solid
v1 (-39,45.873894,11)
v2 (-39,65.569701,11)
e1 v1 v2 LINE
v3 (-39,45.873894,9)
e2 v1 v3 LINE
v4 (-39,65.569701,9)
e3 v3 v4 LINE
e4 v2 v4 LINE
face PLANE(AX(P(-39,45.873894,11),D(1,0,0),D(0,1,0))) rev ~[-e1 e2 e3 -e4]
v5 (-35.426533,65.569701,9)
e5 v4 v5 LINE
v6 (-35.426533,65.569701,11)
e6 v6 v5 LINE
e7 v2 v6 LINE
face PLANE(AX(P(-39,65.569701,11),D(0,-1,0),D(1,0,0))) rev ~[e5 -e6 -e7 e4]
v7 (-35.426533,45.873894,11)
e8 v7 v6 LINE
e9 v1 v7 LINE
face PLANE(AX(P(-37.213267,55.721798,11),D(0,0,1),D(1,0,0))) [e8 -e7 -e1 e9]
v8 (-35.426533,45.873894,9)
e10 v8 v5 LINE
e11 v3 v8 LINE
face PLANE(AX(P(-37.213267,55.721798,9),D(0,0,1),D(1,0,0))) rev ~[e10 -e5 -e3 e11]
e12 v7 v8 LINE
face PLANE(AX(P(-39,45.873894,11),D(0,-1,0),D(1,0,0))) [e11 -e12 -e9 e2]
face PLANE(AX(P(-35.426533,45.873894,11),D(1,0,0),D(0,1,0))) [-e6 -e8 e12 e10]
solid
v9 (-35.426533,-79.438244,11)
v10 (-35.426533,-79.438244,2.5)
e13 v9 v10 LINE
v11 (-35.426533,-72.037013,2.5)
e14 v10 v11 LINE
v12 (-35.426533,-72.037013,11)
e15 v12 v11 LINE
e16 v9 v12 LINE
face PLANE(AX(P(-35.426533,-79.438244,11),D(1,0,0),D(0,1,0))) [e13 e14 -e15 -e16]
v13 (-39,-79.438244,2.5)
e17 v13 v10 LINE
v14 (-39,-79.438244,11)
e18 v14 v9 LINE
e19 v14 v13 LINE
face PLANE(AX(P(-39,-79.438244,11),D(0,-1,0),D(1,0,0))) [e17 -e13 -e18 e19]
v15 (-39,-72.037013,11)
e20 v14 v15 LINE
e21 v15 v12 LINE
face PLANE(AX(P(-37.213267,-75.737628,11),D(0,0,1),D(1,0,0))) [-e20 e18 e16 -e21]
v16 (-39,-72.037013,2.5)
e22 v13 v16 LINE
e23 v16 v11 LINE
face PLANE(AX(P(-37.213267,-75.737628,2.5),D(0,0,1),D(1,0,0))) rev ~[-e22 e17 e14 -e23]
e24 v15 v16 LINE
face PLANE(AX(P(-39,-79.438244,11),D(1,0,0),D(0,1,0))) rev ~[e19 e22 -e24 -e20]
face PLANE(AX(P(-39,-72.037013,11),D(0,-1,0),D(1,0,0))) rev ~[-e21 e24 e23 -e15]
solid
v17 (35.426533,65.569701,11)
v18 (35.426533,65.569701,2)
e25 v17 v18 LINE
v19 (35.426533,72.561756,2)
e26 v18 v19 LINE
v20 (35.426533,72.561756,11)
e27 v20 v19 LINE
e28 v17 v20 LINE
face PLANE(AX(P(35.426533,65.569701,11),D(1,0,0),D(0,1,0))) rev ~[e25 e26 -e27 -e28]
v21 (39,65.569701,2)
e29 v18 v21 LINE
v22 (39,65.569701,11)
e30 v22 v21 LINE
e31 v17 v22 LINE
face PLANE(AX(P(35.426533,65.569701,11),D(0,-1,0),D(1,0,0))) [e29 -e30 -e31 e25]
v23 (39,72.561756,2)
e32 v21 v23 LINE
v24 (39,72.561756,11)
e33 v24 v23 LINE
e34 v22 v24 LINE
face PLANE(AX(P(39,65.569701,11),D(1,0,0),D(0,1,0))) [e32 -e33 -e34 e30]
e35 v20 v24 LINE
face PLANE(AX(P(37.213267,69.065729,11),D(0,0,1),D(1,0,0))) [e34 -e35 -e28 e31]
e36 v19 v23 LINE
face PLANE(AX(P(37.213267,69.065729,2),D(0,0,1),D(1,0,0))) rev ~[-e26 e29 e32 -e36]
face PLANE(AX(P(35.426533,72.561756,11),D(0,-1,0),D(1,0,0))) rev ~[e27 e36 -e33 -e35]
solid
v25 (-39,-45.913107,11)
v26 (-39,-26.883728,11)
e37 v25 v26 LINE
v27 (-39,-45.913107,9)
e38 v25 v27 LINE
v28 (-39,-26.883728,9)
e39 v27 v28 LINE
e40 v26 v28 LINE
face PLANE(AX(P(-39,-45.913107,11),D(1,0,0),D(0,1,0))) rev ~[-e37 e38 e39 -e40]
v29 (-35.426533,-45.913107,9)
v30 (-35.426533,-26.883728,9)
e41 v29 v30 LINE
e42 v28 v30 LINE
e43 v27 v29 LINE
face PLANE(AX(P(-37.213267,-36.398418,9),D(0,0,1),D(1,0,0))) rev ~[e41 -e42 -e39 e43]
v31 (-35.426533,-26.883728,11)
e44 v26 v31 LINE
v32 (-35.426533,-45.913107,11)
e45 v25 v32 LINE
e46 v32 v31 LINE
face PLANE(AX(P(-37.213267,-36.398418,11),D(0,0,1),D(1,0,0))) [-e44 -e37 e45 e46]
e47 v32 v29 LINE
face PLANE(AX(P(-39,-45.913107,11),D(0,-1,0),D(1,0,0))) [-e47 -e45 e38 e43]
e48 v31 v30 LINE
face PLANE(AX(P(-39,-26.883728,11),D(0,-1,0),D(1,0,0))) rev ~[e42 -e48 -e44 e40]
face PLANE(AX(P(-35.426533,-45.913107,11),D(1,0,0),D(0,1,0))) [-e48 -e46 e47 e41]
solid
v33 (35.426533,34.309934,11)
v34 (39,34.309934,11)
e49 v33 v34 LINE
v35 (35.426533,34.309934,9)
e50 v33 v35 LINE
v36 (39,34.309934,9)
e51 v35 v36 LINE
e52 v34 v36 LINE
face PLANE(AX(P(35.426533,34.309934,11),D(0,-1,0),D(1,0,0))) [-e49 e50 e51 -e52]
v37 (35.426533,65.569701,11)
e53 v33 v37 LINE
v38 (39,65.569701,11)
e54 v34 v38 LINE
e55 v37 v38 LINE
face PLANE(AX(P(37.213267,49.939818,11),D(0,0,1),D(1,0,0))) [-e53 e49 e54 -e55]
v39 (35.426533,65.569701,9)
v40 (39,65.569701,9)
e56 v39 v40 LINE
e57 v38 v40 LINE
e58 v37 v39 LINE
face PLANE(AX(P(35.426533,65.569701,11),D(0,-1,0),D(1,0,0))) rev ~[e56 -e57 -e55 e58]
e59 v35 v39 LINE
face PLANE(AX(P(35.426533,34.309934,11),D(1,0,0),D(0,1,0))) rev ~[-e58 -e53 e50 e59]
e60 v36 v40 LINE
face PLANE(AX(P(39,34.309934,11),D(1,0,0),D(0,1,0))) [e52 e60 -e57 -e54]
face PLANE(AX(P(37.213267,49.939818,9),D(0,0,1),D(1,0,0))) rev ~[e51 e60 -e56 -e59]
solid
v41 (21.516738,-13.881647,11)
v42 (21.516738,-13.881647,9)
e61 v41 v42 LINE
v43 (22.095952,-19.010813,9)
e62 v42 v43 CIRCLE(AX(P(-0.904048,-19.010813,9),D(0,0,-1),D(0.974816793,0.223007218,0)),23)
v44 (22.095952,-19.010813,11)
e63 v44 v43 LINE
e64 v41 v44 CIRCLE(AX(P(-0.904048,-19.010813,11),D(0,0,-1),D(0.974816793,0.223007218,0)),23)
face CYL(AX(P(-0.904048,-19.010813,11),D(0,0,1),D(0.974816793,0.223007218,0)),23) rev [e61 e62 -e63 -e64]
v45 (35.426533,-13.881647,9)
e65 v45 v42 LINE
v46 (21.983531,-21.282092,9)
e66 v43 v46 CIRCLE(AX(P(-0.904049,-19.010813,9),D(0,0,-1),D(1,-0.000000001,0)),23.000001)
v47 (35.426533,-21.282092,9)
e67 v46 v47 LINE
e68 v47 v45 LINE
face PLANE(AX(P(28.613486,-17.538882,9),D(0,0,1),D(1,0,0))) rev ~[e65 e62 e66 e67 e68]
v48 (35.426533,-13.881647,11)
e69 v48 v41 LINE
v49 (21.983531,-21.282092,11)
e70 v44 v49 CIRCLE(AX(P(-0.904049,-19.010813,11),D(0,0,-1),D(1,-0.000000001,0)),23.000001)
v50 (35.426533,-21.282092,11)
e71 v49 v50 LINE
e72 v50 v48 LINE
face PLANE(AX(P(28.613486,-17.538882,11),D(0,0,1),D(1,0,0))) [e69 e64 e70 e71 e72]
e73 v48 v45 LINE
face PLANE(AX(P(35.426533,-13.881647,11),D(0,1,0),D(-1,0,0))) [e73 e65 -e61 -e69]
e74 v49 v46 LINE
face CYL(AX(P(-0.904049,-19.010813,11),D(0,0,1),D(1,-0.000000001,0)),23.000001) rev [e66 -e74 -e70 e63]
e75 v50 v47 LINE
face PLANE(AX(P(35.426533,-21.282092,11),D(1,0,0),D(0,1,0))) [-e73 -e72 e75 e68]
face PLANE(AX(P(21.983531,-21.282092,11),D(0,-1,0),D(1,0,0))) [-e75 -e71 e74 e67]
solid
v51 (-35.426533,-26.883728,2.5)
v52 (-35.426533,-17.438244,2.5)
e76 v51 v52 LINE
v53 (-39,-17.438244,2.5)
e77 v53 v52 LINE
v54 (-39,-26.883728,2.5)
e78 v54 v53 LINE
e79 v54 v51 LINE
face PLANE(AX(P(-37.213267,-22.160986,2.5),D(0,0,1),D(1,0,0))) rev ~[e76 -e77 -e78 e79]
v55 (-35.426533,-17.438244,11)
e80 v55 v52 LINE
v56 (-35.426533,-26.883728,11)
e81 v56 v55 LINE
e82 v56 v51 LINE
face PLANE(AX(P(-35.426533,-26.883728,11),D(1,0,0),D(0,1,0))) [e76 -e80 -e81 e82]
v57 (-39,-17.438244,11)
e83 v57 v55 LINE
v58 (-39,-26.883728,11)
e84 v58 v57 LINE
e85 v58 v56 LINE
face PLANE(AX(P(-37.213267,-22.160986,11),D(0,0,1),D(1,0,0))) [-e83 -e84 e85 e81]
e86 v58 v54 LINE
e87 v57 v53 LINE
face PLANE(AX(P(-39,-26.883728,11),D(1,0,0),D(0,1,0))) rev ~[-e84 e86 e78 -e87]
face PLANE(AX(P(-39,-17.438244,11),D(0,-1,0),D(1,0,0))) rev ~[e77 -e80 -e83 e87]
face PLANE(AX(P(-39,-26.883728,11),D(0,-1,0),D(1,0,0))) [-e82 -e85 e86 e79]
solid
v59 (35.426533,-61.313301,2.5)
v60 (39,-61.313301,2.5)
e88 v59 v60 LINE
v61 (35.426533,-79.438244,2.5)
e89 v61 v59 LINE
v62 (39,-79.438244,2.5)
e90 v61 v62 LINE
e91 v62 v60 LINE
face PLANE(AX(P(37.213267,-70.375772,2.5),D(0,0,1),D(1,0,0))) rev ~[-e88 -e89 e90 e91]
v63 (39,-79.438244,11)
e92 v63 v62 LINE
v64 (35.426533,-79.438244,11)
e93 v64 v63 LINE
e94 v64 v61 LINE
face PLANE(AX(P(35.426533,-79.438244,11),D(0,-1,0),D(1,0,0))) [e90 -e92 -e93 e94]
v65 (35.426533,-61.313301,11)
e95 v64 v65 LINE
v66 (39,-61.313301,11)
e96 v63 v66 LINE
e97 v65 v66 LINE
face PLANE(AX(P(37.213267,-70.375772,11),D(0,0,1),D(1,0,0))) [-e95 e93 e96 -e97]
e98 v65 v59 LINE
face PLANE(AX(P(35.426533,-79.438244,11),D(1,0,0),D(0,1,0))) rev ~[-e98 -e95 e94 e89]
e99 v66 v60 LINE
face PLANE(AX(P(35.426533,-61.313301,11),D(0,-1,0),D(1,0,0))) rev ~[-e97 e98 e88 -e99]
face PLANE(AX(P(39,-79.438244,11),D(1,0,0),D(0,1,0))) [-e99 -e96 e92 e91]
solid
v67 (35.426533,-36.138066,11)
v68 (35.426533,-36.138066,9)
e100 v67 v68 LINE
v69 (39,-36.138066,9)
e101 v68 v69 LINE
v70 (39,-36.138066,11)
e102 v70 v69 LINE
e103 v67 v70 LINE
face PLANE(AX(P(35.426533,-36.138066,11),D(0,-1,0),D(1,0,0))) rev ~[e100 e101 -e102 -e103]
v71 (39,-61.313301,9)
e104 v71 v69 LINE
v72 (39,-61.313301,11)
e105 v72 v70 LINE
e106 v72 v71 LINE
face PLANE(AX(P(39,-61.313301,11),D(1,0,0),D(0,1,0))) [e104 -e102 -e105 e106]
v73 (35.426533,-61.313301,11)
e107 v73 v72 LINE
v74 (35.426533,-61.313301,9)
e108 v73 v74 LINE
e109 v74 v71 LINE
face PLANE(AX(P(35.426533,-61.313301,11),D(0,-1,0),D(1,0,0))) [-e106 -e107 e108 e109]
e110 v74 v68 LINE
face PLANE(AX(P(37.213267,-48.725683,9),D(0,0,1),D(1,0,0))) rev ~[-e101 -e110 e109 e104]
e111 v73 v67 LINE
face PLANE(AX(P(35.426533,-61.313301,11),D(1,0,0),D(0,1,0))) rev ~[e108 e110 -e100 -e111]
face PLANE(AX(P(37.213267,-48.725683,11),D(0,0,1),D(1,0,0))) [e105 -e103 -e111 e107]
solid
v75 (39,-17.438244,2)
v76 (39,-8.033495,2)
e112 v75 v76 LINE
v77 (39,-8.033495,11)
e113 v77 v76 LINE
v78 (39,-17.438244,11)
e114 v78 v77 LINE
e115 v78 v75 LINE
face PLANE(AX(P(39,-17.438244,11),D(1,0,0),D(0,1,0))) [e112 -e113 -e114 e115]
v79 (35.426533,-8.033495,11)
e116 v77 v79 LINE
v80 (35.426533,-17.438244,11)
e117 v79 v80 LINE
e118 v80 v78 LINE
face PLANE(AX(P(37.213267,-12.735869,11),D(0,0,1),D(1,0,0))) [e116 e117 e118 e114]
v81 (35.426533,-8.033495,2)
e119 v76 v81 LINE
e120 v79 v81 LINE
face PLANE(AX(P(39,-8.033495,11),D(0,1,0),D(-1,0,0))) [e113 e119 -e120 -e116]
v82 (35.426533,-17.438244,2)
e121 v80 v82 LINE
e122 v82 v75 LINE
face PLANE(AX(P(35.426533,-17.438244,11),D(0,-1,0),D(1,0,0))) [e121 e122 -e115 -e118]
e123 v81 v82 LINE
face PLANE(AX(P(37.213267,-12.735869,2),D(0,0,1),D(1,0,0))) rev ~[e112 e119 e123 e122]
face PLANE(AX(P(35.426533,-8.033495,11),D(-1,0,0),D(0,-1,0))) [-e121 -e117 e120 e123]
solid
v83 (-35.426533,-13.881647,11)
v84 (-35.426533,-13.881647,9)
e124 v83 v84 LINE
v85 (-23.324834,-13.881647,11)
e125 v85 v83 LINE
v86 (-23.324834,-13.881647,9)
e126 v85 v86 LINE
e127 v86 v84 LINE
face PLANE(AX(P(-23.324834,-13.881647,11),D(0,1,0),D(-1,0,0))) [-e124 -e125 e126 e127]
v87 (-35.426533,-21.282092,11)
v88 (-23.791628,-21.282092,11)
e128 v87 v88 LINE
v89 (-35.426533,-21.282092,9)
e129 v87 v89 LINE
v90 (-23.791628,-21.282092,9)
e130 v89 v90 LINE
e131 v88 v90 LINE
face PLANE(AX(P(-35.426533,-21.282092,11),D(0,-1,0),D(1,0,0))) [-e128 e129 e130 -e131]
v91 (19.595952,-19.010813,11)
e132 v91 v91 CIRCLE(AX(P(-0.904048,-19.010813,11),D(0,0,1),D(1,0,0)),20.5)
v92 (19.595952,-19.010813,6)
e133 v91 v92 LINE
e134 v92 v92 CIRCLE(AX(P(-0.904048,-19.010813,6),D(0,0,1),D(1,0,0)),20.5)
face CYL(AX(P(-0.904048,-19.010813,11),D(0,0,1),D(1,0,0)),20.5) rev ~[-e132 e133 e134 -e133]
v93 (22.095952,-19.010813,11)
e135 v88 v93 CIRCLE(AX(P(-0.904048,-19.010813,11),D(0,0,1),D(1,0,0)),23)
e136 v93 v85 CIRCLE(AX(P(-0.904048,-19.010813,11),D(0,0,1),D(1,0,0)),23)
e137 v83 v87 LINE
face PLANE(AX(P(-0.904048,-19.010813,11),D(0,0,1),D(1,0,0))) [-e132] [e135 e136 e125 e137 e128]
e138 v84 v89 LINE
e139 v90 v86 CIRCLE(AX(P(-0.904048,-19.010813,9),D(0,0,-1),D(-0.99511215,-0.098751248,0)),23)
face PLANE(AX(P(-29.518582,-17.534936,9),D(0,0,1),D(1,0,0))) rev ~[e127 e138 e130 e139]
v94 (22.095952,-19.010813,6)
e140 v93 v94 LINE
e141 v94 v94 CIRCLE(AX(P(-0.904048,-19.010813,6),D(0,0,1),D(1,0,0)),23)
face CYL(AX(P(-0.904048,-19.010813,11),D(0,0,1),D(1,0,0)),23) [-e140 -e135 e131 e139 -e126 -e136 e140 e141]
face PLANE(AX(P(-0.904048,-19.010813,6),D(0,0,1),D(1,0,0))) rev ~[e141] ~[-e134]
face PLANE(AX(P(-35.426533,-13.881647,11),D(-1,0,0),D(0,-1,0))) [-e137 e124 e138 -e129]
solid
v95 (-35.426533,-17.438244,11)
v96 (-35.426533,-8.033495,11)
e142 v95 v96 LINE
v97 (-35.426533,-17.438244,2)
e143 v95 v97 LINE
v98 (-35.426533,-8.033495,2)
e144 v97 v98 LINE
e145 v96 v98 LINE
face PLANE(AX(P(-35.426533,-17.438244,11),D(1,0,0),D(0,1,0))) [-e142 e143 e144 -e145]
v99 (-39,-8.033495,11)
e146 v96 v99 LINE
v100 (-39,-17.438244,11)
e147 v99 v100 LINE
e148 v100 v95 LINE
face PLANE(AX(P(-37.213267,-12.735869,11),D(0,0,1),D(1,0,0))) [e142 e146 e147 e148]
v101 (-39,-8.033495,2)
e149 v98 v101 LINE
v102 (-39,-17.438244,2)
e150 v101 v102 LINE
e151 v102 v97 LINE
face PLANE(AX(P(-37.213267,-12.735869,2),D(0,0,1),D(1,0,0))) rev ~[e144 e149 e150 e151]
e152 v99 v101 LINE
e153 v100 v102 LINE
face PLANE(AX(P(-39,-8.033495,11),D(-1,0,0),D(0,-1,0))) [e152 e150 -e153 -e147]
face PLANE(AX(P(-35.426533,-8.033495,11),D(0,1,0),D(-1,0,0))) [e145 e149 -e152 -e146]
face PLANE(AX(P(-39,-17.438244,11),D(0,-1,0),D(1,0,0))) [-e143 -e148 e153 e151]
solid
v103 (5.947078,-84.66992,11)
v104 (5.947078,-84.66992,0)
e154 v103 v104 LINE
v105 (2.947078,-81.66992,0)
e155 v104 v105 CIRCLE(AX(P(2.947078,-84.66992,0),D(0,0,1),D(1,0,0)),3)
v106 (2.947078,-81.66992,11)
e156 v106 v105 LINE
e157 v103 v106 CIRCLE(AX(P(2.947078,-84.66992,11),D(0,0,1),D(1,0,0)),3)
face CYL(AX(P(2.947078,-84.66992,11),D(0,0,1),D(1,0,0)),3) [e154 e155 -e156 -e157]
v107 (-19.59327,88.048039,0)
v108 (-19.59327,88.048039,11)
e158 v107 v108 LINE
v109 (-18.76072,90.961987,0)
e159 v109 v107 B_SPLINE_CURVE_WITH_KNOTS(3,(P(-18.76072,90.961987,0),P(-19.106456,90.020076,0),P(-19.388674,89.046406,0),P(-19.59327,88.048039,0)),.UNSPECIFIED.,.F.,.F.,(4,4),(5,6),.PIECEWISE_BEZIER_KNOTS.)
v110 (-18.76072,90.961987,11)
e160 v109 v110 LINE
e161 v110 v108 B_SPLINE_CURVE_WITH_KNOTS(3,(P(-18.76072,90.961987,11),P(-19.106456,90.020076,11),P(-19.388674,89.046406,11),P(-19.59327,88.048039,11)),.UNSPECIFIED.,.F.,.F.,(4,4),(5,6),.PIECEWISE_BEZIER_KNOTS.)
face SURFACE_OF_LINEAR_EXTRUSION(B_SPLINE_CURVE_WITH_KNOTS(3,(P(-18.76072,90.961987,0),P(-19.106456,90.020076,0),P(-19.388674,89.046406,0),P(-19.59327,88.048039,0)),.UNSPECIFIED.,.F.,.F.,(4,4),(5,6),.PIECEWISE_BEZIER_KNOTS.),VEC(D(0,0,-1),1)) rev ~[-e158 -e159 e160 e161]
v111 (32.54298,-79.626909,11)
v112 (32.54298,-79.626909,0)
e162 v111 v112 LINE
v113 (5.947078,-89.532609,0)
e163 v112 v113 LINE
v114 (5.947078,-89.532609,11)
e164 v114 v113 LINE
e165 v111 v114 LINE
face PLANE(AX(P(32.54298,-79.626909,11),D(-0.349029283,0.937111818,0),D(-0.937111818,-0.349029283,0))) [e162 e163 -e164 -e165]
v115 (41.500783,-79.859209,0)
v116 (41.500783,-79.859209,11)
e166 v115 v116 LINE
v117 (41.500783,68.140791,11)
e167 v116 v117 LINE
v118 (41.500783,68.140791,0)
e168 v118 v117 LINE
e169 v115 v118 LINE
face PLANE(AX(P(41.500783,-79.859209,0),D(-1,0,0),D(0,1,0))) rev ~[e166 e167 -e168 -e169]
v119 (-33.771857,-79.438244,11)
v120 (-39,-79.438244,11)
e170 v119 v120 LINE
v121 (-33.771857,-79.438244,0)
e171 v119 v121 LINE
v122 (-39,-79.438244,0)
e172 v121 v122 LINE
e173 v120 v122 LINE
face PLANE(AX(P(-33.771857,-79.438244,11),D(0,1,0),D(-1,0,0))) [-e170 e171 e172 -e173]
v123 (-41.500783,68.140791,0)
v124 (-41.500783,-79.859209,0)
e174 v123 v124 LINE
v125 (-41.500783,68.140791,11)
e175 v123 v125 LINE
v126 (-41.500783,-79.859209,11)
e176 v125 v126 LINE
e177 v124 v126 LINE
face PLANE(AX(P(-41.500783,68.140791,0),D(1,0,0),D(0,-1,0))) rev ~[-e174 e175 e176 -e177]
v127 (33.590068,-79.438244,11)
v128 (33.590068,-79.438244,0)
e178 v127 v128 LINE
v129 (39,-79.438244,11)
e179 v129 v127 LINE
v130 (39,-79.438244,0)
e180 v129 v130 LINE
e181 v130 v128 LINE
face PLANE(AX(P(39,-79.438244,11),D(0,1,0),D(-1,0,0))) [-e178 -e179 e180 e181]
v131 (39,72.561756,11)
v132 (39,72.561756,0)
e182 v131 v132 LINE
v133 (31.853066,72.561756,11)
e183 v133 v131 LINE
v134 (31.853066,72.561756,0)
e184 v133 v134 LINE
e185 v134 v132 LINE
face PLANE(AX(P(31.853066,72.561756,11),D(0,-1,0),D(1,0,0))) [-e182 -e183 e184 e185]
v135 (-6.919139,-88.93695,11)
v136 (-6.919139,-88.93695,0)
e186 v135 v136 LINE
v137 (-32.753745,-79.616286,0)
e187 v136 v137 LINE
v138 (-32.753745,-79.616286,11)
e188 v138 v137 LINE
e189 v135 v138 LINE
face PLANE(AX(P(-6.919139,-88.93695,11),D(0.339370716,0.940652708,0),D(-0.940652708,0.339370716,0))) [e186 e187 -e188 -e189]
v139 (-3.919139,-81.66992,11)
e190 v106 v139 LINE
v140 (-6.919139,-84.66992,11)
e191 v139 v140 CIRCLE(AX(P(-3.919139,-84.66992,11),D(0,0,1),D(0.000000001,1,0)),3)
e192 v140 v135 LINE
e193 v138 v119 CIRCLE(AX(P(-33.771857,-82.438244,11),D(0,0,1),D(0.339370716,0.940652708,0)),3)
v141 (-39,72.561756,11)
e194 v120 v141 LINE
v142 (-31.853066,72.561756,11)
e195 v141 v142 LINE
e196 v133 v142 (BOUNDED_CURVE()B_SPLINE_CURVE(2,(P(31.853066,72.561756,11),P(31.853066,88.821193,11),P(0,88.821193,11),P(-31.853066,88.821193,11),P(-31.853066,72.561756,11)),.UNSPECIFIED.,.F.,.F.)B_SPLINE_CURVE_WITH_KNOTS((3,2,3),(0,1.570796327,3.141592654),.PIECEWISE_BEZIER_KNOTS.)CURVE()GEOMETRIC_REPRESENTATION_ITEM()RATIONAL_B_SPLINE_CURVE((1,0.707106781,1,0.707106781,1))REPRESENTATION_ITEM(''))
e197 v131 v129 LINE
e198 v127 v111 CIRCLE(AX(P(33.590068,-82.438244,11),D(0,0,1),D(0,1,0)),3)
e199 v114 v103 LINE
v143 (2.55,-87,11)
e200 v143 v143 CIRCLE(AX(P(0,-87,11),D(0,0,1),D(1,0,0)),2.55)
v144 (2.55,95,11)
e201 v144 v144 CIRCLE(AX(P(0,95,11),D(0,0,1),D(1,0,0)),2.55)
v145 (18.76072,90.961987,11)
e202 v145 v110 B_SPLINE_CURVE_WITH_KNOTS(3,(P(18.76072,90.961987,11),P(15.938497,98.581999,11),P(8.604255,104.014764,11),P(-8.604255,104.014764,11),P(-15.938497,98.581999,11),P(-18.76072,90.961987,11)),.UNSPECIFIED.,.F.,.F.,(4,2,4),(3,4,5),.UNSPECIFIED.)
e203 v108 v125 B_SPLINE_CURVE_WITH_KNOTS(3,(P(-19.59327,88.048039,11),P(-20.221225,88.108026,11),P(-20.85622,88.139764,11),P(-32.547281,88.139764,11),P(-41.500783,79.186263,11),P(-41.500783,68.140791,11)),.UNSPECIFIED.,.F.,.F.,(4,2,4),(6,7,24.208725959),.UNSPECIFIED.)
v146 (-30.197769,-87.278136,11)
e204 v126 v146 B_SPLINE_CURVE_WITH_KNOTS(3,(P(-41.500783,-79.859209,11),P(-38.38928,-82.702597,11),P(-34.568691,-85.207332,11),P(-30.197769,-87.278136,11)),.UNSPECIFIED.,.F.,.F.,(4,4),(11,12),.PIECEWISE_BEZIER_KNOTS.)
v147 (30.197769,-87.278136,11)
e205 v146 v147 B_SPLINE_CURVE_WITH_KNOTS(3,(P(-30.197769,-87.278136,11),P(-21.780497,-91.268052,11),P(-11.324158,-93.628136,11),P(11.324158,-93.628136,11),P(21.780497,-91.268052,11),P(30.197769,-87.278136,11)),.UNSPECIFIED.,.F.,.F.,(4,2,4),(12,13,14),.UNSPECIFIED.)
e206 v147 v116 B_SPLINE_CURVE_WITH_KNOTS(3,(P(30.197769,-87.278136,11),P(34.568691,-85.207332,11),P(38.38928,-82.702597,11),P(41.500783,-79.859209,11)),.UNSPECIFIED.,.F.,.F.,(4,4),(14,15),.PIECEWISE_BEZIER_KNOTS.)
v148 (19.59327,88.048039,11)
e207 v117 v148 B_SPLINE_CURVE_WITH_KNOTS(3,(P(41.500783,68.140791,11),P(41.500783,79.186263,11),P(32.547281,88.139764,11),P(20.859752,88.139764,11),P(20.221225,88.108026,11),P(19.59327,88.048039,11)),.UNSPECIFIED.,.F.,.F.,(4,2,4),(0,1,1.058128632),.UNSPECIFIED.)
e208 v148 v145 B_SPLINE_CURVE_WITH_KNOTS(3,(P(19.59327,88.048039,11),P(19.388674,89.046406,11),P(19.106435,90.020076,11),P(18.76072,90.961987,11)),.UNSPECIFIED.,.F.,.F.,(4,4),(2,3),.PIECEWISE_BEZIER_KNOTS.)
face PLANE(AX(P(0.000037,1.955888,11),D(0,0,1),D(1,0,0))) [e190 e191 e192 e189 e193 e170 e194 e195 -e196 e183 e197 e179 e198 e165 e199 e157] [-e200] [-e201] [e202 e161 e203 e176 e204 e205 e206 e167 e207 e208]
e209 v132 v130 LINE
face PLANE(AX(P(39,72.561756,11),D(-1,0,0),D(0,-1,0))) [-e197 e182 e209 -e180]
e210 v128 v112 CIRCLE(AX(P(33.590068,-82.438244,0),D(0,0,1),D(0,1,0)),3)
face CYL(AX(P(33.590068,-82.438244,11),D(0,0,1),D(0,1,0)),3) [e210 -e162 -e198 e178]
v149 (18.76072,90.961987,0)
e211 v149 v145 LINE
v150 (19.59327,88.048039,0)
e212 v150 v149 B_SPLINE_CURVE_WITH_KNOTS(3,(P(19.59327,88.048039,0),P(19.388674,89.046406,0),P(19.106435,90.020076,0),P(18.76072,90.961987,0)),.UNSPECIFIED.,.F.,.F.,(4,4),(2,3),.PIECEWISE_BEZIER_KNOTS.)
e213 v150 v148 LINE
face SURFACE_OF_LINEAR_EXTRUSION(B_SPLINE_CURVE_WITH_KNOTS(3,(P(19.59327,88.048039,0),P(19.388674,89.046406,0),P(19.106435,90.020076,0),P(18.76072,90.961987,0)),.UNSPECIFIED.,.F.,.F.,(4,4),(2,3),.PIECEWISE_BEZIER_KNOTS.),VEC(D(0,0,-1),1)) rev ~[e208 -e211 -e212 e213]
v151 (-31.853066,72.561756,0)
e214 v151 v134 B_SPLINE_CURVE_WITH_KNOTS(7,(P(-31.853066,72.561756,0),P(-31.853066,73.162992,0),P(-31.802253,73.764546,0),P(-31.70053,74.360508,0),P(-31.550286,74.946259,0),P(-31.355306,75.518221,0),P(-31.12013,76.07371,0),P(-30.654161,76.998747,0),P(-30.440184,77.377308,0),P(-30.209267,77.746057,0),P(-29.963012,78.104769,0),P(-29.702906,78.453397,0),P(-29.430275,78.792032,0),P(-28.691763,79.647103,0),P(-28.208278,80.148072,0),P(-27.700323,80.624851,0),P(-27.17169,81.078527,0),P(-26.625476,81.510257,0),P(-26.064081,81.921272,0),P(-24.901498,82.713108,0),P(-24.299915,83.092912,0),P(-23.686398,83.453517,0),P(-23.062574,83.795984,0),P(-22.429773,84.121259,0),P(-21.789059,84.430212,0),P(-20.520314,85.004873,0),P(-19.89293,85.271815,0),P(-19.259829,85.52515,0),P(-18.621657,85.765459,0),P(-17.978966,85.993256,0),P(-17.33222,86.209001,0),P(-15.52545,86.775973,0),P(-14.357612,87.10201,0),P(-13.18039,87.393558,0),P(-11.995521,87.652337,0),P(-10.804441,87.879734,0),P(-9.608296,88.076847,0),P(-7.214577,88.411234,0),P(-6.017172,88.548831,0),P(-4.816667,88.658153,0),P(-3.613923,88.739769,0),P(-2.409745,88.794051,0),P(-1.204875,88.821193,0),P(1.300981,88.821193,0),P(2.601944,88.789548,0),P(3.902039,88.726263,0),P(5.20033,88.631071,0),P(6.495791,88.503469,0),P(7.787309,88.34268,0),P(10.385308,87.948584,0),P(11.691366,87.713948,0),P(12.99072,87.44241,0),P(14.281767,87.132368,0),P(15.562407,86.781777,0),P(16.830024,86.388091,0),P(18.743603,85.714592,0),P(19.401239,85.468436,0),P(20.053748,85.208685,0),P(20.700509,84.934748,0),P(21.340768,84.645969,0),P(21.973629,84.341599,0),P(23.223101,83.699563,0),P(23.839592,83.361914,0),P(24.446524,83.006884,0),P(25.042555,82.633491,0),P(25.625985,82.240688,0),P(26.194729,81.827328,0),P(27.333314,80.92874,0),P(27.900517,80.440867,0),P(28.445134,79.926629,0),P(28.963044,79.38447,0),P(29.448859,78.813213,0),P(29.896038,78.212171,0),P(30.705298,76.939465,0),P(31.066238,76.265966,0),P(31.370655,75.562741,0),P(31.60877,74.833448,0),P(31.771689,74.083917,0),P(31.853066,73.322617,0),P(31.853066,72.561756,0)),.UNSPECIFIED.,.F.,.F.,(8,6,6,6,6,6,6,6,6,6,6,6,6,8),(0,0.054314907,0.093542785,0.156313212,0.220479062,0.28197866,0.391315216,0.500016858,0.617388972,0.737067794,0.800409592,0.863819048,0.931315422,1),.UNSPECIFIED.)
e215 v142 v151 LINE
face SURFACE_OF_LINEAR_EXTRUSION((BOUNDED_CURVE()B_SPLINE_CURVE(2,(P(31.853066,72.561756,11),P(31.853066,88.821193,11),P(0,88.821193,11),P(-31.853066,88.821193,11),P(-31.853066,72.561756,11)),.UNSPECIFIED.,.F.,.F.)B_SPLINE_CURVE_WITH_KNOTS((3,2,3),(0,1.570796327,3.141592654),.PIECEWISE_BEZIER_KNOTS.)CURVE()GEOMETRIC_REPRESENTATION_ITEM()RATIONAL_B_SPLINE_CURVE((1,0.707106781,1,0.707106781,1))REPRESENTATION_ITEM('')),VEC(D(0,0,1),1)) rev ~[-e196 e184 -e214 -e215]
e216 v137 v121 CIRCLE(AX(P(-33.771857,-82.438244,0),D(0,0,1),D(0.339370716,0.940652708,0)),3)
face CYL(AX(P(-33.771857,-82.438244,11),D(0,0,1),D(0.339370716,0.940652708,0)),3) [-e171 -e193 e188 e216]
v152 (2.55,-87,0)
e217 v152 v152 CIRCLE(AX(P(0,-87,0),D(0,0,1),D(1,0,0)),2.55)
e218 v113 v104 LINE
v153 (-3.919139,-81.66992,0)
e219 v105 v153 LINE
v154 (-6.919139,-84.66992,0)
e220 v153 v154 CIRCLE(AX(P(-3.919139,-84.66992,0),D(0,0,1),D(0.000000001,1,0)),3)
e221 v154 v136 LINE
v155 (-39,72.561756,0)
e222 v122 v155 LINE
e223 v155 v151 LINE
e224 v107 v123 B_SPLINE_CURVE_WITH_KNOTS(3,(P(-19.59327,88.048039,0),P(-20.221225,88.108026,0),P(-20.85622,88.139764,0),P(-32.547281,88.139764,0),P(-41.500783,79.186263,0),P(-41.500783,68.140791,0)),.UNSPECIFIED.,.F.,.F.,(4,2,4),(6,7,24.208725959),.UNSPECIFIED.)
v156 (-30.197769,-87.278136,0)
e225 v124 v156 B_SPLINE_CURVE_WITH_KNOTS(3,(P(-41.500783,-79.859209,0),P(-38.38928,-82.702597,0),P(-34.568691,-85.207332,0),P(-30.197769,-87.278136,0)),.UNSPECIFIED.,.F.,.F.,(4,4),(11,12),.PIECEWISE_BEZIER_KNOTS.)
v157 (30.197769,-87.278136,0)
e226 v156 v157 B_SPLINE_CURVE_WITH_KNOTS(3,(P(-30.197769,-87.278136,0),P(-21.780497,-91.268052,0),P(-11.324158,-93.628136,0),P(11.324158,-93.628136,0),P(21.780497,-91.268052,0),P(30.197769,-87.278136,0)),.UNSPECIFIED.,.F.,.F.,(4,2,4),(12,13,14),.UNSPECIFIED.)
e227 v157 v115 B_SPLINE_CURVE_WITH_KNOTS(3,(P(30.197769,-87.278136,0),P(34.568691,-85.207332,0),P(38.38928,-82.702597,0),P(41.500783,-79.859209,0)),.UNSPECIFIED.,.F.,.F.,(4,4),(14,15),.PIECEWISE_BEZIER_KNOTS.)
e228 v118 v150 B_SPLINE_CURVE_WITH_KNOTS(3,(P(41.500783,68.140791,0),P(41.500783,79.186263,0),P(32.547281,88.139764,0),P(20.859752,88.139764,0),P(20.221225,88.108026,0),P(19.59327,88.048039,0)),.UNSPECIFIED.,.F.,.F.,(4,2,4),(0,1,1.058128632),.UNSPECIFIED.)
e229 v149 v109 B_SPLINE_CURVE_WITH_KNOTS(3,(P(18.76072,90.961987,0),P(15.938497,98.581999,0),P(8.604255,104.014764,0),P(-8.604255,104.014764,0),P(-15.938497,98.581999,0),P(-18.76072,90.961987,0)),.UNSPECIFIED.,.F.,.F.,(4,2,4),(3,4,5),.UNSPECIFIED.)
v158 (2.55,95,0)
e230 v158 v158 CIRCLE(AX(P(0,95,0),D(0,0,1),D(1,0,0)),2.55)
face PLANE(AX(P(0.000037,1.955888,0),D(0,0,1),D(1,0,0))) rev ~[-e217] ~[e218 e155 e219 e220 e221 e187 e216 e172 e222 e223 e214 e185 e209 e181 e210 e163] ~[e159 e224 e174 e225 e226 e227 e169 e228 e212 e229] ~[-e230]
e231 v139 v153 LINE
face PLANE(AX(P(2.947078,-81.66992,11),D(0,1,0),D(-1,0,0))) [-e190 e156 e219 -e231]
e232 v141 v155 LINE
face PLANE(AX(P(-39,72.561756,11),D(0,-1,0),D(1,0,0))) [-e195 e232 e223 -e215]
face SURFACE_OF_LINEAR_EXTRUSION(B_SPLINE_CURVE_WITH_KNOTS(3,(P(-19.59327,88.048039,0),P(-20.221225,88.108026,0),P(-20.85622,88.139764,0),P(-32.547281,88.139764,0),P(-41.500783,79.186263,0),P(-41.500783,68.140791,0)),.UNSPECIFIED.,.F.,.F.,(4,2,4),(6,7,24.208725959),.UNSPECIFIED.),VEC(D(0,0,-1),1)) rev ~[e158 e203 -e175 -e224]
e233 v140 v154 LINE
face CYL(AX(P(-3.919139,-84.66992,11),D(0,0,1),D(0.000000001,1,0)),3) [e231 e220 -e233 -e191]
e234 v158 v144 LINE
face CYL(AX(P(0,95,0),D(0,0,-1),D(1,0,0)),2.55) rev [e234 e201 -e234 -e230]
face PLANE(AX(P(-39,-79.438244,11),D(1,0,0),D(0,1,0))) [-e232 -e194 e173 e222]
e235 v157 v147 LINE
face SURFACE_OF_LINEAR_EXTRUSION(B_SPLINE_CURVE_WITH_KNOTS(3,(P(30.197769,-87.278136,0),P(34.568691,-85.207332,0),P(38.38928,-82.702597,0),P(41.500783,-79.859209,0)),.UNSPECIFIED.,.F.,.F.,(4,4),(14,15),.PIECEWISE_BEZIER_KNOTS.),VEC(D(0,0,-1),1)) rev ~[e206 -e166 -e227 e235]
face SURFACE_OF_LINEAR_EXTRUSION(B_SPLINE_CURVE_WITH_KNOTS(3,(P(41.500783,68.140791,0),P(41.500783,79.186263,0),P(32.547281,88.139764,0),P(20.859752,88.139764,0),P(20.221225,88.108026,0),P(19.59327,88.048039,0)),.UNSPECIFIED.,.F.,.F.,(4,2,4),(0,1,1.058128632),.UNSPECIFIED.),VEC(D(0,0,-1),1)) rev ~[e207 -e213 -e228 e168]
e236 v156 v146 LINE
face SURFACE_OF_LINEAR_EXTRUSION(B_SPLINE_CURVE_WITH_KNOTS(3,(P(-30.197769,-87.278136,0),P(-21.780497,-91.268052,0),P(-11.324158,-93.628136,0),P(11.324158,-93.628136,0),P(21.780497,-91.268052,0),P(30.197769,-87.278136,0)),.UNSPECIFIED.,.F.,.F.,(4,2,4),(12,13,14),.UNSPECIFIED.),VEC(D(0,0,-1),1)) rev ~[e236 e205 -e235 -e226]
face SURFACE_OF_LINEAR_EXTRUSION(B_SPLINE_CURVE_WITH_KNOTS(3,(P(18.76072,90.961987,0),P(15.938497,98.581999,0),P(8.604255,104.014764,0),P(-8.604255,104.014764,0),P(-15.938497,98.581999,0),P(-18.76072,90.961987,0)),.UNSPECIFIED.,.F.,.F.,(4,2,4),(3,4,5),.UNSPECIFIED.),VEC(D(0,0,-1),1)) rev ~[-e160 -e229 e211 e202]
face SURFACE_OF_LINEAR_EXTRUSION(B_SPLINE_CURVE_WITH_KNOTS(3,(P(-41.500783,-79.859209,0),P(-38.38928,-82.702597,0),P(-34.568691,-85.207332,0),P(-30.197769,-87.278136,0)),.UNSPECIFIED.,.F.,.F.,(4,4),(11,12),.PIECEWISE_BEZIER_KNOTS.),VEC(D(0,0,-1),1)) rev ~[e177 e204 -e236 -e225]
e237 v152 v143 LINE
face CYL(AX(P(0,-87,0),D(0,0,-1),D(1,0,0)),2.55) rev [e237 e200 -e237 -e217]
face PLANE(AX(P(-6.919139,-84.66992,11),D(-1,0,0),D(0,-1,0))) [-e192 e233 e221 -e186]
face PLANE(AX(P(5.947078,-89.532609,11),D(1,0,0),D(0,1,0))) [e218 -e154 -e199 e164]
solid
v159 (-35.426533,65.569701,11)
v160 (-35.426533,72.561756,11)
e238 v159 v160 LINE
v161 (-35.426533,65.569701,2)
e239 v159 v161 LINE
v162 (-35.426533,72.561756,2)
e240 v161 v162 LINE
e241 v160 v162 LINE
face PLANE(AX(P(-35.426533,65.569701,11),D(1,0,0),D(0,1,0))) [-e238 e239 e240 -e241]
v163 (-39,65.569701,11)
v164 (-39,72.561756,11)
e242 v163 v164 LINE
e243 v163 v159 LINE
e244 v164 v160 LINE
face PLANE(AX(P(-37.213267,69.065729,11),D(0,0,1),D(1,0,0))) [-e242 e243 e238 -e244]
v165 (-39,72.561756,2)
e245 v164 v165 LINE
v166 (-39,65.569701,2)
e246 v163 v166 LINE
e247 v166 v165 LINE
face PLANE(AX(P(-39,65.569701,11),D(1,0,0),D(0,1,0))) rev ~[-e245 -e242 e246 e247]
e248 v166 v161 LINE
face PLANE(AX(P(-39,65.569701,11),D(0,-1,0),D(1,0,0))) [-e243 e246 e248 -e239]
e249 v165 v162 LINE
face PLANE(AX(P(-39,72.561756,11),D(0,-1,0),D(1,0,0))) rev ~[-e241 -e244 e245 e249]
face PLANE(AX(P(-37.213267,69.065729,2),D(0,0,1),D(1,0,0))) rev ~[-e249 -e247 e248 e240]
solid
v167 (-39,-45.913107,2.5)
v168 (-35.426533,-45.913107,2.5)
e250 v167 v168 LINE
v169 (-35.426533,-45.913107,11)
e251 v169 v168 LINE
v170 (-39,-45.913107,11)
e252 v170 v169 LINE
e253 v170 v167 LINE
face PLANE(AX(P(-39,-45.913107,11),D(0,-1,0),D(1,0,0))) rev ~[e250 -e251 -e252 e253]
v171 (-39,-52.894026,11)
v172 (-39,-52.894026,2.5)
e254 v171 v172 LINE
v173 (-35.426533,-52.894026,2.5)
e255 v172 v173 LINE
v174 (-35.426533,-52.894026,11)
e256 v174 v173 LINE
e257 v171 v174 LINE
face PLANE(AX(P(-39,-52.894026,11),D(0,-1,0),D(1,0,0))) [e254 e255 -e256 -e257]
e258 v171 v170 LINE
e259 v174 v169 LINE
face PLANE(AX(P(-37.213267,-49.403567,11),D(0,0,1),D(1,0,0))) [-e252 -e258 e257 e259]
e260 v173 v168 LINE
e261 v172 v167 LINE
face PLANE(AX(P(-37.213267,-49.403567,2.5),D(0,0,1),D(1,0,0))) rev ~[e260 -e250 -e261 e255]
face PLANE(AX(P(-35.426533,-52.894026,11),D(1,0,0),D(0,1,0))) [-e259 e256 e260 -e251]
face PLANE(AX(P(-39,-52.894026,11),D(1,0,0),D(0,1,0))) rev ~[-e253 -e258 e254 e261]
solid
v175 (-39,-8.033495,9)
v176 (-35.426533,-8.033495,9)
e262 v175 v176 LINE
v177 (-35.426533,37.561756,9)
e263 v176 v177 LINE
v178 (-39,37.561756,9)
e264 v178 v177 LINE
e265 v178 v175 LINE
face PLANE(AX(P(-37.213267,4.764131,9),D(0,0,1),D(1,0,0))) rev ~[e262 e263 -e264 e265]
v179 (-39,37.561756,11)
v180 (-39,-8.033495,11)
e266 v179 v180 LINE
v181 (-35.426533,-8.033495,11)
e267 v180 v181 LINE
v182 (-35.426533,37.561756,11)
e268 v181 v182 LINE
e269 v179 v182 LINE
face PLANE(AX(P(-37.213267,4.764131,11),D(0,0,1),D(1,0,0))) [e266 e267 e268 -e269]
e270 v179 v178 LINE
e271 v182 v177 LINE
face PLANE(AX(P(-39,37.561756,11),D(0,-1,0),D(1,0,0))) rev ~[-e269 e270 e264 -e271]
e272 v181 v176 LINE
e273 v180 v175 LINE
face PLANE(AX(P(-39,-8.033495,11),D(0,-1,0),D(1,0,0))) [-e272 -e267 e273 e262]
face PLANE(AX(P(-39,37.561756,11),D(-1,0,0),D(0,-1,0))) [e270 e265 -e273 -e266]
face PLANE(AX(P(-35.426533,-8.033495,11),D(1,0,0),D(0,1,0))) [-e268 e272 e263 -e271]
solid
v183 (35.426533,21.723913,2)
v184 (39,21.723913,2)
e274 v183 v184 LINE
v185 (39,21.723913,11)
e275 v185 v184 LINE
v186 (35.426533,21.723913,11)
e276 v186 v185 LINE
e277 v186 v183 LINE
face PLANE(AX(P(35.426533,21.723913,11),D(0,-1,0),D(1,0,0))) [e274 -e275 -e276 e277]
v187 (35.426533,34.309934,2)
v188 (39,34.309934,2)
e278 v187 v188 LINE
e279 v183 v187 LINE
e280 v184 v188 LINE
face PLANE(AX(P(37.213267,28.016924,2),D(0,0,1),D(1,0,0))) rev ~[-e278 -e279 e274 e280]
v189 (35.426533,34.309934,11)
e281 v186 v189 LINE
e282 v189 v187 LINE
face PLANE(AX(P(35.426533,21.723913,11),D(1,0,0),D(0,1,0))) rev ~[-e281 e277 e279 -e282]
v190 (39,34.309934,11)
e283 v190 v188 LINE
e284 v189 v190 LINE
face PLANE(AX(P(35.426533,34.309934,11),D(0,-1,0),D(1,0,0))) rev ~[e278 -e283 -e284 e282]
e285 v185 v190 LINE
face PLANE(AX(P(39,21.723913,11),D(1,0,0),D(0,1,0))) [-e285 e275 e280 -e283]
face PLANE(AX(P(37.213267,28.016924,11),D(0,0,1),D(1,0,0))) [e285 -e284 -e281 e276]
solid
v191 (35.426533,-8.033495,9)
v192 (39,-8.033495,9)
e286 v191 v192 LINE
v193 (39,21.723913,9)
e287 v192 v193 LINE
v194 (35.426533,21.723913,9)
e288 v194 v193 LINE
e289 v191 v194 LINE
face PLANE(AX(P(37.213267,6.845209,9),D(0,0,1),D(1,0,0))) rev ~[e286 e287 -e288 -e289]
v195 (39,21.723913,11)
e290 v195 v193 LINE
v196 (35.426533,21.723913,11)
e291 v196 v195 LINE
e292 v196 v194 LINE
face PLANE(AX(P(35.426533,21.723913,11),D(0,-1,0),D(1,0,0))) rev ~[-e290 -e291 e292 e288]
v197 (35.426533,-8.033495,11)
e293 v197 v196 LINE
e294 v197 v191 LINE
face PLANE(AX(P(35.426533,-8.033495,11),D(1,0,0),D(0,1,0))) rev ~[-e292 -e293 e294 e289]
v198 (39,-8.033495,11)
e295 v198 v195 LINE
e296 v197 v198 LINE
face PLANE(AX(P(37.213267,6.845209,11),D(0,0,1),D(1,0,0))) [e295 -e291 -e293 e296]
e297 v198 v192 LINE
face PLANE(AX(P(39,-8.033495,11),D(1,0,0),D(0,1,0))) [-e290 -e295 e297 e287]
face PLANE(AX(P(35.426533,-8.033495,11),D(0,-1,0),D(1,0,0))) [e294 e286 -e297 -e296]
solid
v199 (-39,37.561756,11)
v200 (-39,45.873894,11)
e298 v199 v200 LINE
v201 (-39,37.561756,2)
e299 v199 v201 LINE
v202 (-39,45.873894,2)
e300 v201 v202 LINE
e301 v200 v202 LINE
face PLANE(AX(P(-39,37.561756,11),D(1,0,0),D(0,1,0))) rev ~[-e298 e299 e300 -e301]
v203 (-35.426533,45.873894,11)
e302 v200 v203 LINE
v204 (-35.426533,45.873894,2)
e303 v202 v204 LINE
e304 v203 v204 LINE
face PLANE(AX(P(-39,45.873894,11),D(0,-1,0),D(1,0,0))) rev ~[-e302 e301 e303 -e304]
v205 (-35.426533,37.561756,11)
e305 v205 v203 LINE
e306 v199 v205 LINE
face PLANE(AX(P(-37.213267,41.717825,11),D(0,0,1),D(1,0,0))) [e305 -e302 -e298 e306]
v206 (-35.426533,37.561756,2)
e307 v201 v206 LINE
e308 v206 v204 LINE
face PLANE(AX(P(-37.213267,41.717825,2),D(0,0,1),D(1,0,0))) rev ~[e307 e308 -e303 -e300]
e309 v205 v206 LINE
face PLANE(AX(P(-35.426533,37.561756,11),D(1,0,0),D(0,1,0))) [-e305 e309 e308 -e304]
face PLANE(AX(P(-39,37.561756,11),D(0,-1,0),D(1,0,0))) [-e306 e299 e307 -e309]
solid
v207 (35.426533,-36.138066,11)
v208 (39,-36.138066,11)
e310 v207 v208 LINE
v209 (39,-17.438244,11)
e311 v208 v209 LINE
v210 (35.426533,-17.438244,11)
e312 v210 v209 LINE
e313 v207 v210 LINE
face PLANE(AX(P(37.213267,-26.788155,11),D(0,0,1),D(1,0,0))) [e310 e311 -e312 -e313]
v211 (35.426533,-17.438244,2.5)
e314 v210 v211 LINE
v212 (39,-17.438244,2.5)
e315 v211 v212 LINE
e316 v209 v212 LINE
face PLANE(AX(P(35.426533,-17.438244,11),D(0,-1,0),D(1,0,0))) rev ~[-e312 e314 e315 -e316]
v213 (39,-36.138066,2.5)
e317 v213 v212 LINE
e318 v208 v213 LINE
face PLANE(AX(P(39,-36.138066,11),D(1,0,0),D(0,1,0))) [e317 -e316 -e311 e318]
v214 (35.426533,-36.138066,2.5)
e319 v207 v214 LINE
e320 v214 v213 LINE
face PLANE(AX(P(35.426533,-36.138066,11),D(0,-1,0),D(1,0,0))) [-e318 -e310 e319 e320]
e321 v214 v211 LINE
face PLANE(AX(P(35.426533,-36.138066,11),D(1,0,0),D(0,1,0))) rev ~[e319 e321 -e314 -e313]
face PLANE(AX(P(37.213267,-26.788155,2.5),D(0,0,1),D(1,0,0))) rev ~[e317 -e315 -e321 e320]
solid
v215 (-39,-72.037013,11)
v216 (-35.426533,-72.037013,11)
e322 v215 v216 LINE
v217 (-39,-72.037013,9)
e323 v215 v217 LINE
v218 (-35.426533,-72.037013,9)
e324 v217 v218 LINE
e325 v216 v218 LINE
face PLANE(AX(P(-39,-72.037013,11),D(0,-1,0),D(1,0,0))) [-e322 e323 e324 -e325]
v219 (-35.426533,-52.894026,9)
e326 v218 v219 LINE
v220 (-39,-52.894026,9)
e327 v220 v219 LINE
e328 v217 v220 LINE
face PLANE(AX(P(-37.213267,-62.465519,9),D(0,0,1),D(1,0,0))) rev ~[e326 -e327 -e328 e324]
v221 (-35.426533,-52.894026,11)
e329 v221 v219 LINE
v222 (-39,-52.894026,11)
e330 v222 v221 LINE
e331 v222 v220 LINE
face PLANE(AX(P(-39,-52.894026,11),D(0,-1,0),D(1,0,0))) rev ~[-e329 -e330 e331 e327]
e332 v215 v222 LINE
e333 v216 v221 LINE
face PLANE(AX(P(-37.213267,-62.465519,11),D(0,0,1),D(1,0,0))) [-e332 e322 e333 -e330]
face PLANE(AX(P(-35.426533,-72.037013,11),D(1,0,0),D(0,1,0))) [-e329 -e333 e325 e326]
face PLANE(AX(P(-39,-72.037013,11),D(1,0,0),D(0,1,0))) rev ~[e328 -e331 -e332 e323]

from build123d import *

# Parameters (mm, degrees)
SKETCH_1_R          = 2.55
EXTRUDE_1_DEPTH     = 11
CUT_EXTRUDE_1_DEPTH = 12
SKETCH_3_W          = 3.57346696
SKETCH_3_H          = 6.992054996
EXTRUDE_2_DEPTH     = 9
EXTRUDE_2_2_DEPTH   = 9
SKETCH_3_H_2        = 8.312138205
EXTRUDE_2_3_DEPTH   = 9
SKETCH_3_H_3        = 12.586021109
EXTRUDE_2_4_DEPTH   = 9
EXTRUDE_2_5_DEPTH   = 9
EXTRUDE_2_6_DEPTH   = 9
SKETCH_3_3_W        = 3.57346696
SKETCH_3_3_H        = 19.695806799
SKETCH_3_3_H_2      = 31.259766677
SKETCH_3_3_H_3      = 29.757407966
SKETCH_3_3_H_4      = 25.595250748
SKETCH_3_3_H_5      = 20
EXTRUDE_3_DEPTH     = 2
EXTRUDE_4_DEPTH     = 2
EXTRUDE_4_2_DEPTH   = 2
SKETCH_3_5_R        = 23
SKETCH_3_5_R_2      = 20.5
EXTRUDE_5_DEPTH     = 5
SKETCH_3_6_W        = 3.57346696
SKETCH_3_6_H        = 18.699822207
EXTRUDE_6_DEPTH     = 8.5
SKETCH_3_6_H_2      = 18.12494327
EXTRUDE_6_2_DEPTH   = 8.5
SKETCH_3_6_H_3      = 9.445483778
EXTRUDE_6_3_DEPTH   = 8.5
SKETCH_3_6_H_4      = 6.980918364
EXTRUDE_6_4_DEPTH   = 8.5
SKETCH_3_6_H_5      = 7.401231098
EXTRUDE_6_5_DEPTH   = 8.5
SKETCH_3_7_W        = 3.57346696
SKETCH_3_7_H        = 19.029379681
EXTRUDE_7_DEPTH     = 2
SKETCH_3_7_H_2      = 19.142987079
EXTRUDE_7_2_DEPTH   = 2
SKETCH_3_7_H_3      = 25.175234523
EXTRUDE_7_3_DEPTH   = 2


with BuildPart() as part:
    # 草图1 → 凸台-拉伸1 (new body)
    with BuildSketch(Plane.XY):
        with BuildLine():
            Line((-41.500782935, 68.140791219), (-41.500782935, -79.859208781))
            add(Edge.make_bspline(
                [(-41.500782935, -79.859208781), (-38.389280352, -82.702596808), (-34.568690991, -85.207331949), (-30.197769157, -87.278135781)],
                knots=[11, 11, 11, 11, 12, 12, 12, 12], degree=3))
            add(Edge.make_bspline(
                [(-30.197769157, -87.278135781), (-21.780496549, -91.268051585), (-11.324158051, -93.62813578), (0, -93.62813578)],
                knots=[12, 12, 12, 12, 13, 13, 13, 13], degree=3))
            add(Edge.make_bspline(
                [(0, -93.62813578), (11.324158051, -93.62813578), (21.780496549, -91.268051585), (30.197769157, -87.278135781)],
                knots=[13, 13, 13, 13, 14, 14, 14, 14], degree=3))
            add(Edge.make_bspline(
                [(30.197769157, -87.278135781), (34.568690991, -85.207331949), (38.389280352, -82.702596808), (41.500782935, -79.859208781)],
                knots=[14, 14, 14, 14, 15, 15, 15, 15], degree=3))
            Line((41.500782935, -79.859208781), (41.500782935, 68.140791219))
            add(Edge.make_bspline(
                [(41.500782935, 68.140791219), (41.500782935, 79.186262577), (32.547281215, 88.139764297), (21.501809857, 88.139764297)],
                knots=[0, 0, 0, 0, 1, 1, 1, 1], degree=3))
            add(Edge.make_bspline(
                [(21.501809857, 88.139764297), (20.859751717, 88.139764297), (20.221224801, 88.108026355), (19.593270021, 88.04803863)],
                knots=[1, 1, 1, 1, 2, 2, 2, 2], degree=3))
            add(Edge.make_bspline(
                [(19.593270021, 88.04803863), (19.388674413, 89.04640577), (19.106434966, 90.020075881), (18.760719634, 90.961986519)],
                knots=[2, 2, 2, 2, 3, 3, 3, 3], degree=3))
            add(Edge.make_bspline(
                [(18.760719634, 90.961986519), (15.938497412, 98.581999436), (8.604255165, 104.014764294), (0, 104.014764294)],
                knots=[3, 3, 3, 3, 4, 4, 4, 4], degree=3))
            add(Edge.make_bspline(
                [(0, 104.014764294), (-8.604255165, 104.014764294), (-15.938497412, 98.581999436), (-18.760719634, 90.961986519)],
                knots=[4, 4, 4, 4, 5, 5, 5, 5], degree=3))
            add(Edge.make_bspline(
                [(-18.760719634, 90.961986519), (-19.106456498, 90.020075881), (-19.388674413, 89.04640577), (-19.593270021, 88.04803863)],
                knots=[5, 5, 5, 5, 6, 6, 6, 6], degree=3))
            add(Edge.make_bspline(
                [(-19.593270021, 88.04803863), (-20.221224801, 88.108026355), (-20.856220494, 88.139764297), (-21.498278634, 88.139764297)],
                knots=[6, 6, 6, 6, 7, 7, 7, 7], degree=3))
            add(Edge.make_bspline(
                [(-21.498278634, 88.139764297), (-32.547281215, 88.139764297), (-41.500782935, 79.186262577), (-41.500782935, 68.140791219)],
                knots=[7, 7, 7, 7, 8, 8, 8, 8], degree=3))
        make_face()
        with Locations((0, 95)):
            Circle(SKETCH_1_R, mode=Mode.SUBTRACT)
        with Locations((0, -87)):
            Circle(SKETCH_1_R, mode=Mode.SUBTRACT)
    extrude(amount=EXTRUDE_1_DEPTH)

    # 草图2 → 切除-拉伸1 (cut)
    with BuildSketch(Plane.XY.offset(11)):
        with BuildLine():
            Line((-39, 72.56175603), (-31.85306608, 72.56175603))
            add(Edge.make_bspline(
                [(31.85306608, 72.56175603), (31.85306608, 88.82119273), (0, 88.82119273), (-31.85306608, 88.82119273), (-31.85306608, 72.56175603)],
                knots=[0, 0, 0, 1.570796327, 1.570796327, 3.141592654, 3.141592654, 3.141592654], degree=2, weights=[1, 0.707106781, 1, 0.707106781, 1]))
            Line((31.85306608, 72.56175603), (39, 72.56175603))
            Line((39, 72.56175603), (39, -79.43824397))
            Line((39, -79.43824397), (33.590068299, -79.43824397))
            ThreePointArc((33.590068299, -79.43824397), (33.058093845, -79.485786827), (32.542980448, -79.626908516))
            Line((32.542980448, -79.626908516), (5.947078237, -89.532608684))
            Line((5.947078237, -89.532608684), (5.947078237, -84.669920089))
            ThreePointArc((5.947078237, -84.669920089), (5.06839858, -82.548599745), (2.947078237, -81.669920089))
            Line((2.947078237, -81.669920089), (-3.919139465, -81.669920089))
            ThreePointArc((-3.919139465, -81.669920089), (-6.040459809, -82.548599745), (-6.919139465, -84.669920089))
            Line((-6.919139465, -84.669920089), (-6.919139465, -88.936950457))
            Line((-6.919139465, -88.936950457), (-32.753744515, -79.616285846))
            ThreePointArc((-32.753744515, -79.616285846), (-33.255075458, -79.483089628), (-33.771856663, -79.43824397))
            Line((-33.771856663, -79.43824397), (-39, -79.43824397))
            Line((-39, -79.43824397), (-39, 72.56175603))
        make_face()
    extrude(amount=-CUT_EXTRUDE_1_DEPTH, mode=Mode.SUBTRACT)


with BuildPart() as body_2:
    # 草图3 → 凸台-拉伸2 (new body)
    with BuildSketch(Plane.XY.offset(11)):
        with Locations((37.21326652, 69.065728532)):
            Rectangle(SKETCH_3_W, SKETCH_3_H)
    extrude(amount=-EXTRUDE_2_DEPTH)


with BuildPart() as body_3:
    # 草图3 → Extrude 2 2 (new body)
    with BuildSketch(Plane.XY.offset(11)):
        with Locations((-37.21326652, 69.065728532)):
            Rectangle(SKETCH_3_W, SKETCH_3_H)
    extrude(amount=-EXTRUDE_2_2_DEPTH)


with BuildPart() as body_4:
    # 草图3 → Extrude 2 3 (new body)
    with BuildSketch(Plane.XY.offset(11)):
        with Locations((-37.21326652, 41.717825133)):
            Rectangle(SKETCH_3_W, SKETCH_3_H_2)
    extrude(amount=-EXTRUDE_2_3_DEPTH)


with BuildPart() as body_5:
    # 草图3 → Extrude 2 4 (new body)
    with BuildSketch(Plane.XY.offset(11)):
        with Locations((37.21326652, 28.016923803)):
            Rectangle(SKETCH_3_W, SKETCH_3_H_3)
    extrude(amount=-EXTRUDE_2_4_DEPTH)


with BuildPart() as body_6:
    # 草图3 → Extrude 2 5 (new body)
    with BuildSketch(Plane.XY.offset(11)):
        Polygon((35.42653304, -13.881647454), (35.42653304, -17.43824397), (39, -17.43824397), (39, -8.033494718), (35.42653304, -8.033494718), align=None)
    extrude(amount=-EXTRUDE_2_5_DEPTH)


with BuildPart() as body_7:
    # 草图3 → Extrude 2 6 (new body)
    with BuildSketch(Plane.XY.offset(11)):
        Polygon((-35.42653304, -17.43824397), (-35.42653304, -13.881647454), (-35.42653304, -8.033494718), (-39, -8.033494718), (-39, -17.43824397), align=None)
    extrude(amount=-EXTRUDE_2_6_DEPTH)


with BuildPart() as body_8:
    # 草图3<3> → 凸台-拉伸3 (new body)
    with BuildSketch(Plane.XY.offset(11)):
        with Locations((-37.21326652, 55.721797635)):
            Rectangle(SKETCH_3_3_W, SKETCH_3_3_H)
        with Locations((37.21326652, 49.939817696)):
            Rectangle(SKETCH_3_3_W, SKETCH_3_3_H_2)
        with Locations((37.21326652, 6.845209265)):
            Rectangle(SKETCH_3_3_W, SKETCH_3_3_H_3)
        with Locations((-37.21326652, 4.764130656)):
            Rectangle(SKETCH_3_3_W, SKETCH_3_3_H_4)
        with Locations((-37.21326652, 27.56175603)):
            Rectangle(SKETCH_3_3_W, SKETCH_3_3_H_5)
    extrude(amount=-EXTRUDE_3_DEPTH)


with BuildPart() as body_9:
    # 草图3<4> → 凸台-拉伸4 (new body)
    with BuildSketch(Plane.XY.offset(11)):
        with BuildLine():
            Line((35.42653304, -21.282092163), (35.42653304, -17.43824397))
            Line((35.42653304, -17.43824397), (35.42653304, -13.881647454))
            Line((35.42653304, -13.881647454), (31.85306608, -13.881647454))
            Line((31.85306608, -13.881647454), (21.516738038, -13.881647454))
            ThreePointArc((21.516738038, -13.881647454), (21.950689632, -16.429930259), (22.09595179, -19.010813469))
            ThreePointArc((22.09595179, -19.010813469), (22.067829459, -20.147843073), (21.98353124, -21.282092163))
            Line((21.98353124, -21.282092163), (31.93094233, -21.282092163))
            Line((31.93094233, -21.282092163), (35.42653304, -21.282092163))
        make_face()
    extrude(amount=-EXTRUDE_4_DEPTH)


with BuildPart() as body_10:
    # 草图3<4> → Extrude 4 2 (new body)
    with BuildSketch(Plane.XY.offset(11)):
        with BuildLine():
            ThreePointArc((-23.791627661, -21.282092163), (-23.858430059, -17.562934345), (-23.324834459, -13.881647454))
            Line((-23.324834459, -13.881647454), (-31.85306608, -13.881647454))
            Line((-31.85306608, -13.881647454), (-35.42653304, -13.881647454))
            Line((-35.42653304, -13.881647454), (-35.42653304, -17.43824397))
            Line((-35.42653304, -17.43824397), (-35.42653304, -21.282092163))
            Line((-35.42653304, -21.282092163), (-31.77518983, -21.282092163))
            Line((-31.77518983, -21.282092163), (-23.791627661, -21.282092163))
        make_face()
    extrude(amount=-EXTRUDE_4_2_DEPTH)

    # 草图3<5> → 凸台-拉伸5 (add)
    with BuildSketch(Plane.XY.offset(11)):
        with Locations((-0.90404821, -19.010813469)):
            Circle(SKETCH_3_5_R)
        with Locations((-0.90404821, -19.010813469)):
            Circle(SKETCH_3_5_R_2, mode=Mode.SUBTRACT)
    extrude(amount=-EXTRUDE_5_DEPTH)


with BuildPart() as body_11:
    # 草图3<6> → 凸台-拉伸6 (new body)
    with BuildSketch(Plane.XY.offset(11)):
        with Locations((37.21326652, -26.788155074)):
            Rectangle(SKETCH_3_6_W, SKETCH_3_6_H)
    extrude(amount=-EXTRUDE_6_DEPTH)


with BuildPart() as body_12:
    # 草图3<6> → Extrude 6 2 (new body)
    with BuildSketch(Plane.XY.offset(11)):
        with Locations((37.21326652, -70.375772335)):
            Rectangle(SKETCH_3_6_W, SKETCH_3_6_H_2)
    extrude(amount=-EXTRUDE_6_2_DEPTH)


with BuildPart() as body_13:
    # 草图3<6> → Extrude 6 3 (new body)
    with BuildSketch(Plane.XY.offset(11)):
        with Locations((-37.21326652, -22.160985859)):
            Rectangle(SKETCH_3_6_W, SKETCH_3_6_H_3)
    extrude(amount=-EXTRUDE_6_3_DEPTH)


with BuildPart() as body_14:
    # 草图3<6> → Extrude 6 4 (new body)
    with BuildSketch(Plane.XY.offset(11)):
        with Locations((-37.21326652, -49.403566611)):
            Rectangle(SKETCH_3_6_W, SKETCH_3_6_H_4)
    extrude(amount=-EXTRUDE_6_4_DEPTH)


with BuildPart() as body_15:
    # 草图3<6> → Extrude 6 5 (new body)
    with BuildSketch(Plane.XY.offset(11)):
        with Locations((-37.21326652, -75.737628421)):
            Rectangle(SKETCH_3_6_W, SKETCH_3_6_H_5)
    extrude(amount=-EXTRUDE_6_5_DEPTH)


with BuildPart() as body_16:
    # 草图3<7> → 凸台-拉伸7 (new body)
    with BuildSketch(Plane.XY.offset(11)):
        with Locations((-37.21326652, -36.398417589)):
            Rectangle(SKETCH_3_7_W, SKETCH_3_7_H)
    extrude(amount=-EXTRUDE_7_DEPTH)


with BuildPart() as body_17:
    # 草图3<7> → Extrude 7 2 (new body)
    with BuildSketch(Plane.XY.offset(11)):
        with Locations((-37.21326652, -62.465519333)):
            Rectangle(SKETCH_3_7_W, SKETCH_3_7_H_2)
    extrude(amount=-EXTRUDE_7_2_DEPTH)


with BuildPart() as body_18:
    # 草图3<7> → Extrude 7 3 (new body)
    with BuildSketch(Plane.XY.offset(11)):
        with Locations((37.21326652, -48.725683438)):
            Rectangle(SKETCH_3_7_W, SKETCH_3_7_H_3)
    extrude(amount=-EXTRUDE_7_3_DEPTH)


solid = Compound([part.part, body_2.part, body_3.part, body_4.part, body_5.part, body_6.part, body_7.part, body_8.part, body_9.part, body_10.part, body_11.part, body_12.part, body_13.part, body_14.part, body_15.part, body_16.part, body_17.part, body_18.part])
